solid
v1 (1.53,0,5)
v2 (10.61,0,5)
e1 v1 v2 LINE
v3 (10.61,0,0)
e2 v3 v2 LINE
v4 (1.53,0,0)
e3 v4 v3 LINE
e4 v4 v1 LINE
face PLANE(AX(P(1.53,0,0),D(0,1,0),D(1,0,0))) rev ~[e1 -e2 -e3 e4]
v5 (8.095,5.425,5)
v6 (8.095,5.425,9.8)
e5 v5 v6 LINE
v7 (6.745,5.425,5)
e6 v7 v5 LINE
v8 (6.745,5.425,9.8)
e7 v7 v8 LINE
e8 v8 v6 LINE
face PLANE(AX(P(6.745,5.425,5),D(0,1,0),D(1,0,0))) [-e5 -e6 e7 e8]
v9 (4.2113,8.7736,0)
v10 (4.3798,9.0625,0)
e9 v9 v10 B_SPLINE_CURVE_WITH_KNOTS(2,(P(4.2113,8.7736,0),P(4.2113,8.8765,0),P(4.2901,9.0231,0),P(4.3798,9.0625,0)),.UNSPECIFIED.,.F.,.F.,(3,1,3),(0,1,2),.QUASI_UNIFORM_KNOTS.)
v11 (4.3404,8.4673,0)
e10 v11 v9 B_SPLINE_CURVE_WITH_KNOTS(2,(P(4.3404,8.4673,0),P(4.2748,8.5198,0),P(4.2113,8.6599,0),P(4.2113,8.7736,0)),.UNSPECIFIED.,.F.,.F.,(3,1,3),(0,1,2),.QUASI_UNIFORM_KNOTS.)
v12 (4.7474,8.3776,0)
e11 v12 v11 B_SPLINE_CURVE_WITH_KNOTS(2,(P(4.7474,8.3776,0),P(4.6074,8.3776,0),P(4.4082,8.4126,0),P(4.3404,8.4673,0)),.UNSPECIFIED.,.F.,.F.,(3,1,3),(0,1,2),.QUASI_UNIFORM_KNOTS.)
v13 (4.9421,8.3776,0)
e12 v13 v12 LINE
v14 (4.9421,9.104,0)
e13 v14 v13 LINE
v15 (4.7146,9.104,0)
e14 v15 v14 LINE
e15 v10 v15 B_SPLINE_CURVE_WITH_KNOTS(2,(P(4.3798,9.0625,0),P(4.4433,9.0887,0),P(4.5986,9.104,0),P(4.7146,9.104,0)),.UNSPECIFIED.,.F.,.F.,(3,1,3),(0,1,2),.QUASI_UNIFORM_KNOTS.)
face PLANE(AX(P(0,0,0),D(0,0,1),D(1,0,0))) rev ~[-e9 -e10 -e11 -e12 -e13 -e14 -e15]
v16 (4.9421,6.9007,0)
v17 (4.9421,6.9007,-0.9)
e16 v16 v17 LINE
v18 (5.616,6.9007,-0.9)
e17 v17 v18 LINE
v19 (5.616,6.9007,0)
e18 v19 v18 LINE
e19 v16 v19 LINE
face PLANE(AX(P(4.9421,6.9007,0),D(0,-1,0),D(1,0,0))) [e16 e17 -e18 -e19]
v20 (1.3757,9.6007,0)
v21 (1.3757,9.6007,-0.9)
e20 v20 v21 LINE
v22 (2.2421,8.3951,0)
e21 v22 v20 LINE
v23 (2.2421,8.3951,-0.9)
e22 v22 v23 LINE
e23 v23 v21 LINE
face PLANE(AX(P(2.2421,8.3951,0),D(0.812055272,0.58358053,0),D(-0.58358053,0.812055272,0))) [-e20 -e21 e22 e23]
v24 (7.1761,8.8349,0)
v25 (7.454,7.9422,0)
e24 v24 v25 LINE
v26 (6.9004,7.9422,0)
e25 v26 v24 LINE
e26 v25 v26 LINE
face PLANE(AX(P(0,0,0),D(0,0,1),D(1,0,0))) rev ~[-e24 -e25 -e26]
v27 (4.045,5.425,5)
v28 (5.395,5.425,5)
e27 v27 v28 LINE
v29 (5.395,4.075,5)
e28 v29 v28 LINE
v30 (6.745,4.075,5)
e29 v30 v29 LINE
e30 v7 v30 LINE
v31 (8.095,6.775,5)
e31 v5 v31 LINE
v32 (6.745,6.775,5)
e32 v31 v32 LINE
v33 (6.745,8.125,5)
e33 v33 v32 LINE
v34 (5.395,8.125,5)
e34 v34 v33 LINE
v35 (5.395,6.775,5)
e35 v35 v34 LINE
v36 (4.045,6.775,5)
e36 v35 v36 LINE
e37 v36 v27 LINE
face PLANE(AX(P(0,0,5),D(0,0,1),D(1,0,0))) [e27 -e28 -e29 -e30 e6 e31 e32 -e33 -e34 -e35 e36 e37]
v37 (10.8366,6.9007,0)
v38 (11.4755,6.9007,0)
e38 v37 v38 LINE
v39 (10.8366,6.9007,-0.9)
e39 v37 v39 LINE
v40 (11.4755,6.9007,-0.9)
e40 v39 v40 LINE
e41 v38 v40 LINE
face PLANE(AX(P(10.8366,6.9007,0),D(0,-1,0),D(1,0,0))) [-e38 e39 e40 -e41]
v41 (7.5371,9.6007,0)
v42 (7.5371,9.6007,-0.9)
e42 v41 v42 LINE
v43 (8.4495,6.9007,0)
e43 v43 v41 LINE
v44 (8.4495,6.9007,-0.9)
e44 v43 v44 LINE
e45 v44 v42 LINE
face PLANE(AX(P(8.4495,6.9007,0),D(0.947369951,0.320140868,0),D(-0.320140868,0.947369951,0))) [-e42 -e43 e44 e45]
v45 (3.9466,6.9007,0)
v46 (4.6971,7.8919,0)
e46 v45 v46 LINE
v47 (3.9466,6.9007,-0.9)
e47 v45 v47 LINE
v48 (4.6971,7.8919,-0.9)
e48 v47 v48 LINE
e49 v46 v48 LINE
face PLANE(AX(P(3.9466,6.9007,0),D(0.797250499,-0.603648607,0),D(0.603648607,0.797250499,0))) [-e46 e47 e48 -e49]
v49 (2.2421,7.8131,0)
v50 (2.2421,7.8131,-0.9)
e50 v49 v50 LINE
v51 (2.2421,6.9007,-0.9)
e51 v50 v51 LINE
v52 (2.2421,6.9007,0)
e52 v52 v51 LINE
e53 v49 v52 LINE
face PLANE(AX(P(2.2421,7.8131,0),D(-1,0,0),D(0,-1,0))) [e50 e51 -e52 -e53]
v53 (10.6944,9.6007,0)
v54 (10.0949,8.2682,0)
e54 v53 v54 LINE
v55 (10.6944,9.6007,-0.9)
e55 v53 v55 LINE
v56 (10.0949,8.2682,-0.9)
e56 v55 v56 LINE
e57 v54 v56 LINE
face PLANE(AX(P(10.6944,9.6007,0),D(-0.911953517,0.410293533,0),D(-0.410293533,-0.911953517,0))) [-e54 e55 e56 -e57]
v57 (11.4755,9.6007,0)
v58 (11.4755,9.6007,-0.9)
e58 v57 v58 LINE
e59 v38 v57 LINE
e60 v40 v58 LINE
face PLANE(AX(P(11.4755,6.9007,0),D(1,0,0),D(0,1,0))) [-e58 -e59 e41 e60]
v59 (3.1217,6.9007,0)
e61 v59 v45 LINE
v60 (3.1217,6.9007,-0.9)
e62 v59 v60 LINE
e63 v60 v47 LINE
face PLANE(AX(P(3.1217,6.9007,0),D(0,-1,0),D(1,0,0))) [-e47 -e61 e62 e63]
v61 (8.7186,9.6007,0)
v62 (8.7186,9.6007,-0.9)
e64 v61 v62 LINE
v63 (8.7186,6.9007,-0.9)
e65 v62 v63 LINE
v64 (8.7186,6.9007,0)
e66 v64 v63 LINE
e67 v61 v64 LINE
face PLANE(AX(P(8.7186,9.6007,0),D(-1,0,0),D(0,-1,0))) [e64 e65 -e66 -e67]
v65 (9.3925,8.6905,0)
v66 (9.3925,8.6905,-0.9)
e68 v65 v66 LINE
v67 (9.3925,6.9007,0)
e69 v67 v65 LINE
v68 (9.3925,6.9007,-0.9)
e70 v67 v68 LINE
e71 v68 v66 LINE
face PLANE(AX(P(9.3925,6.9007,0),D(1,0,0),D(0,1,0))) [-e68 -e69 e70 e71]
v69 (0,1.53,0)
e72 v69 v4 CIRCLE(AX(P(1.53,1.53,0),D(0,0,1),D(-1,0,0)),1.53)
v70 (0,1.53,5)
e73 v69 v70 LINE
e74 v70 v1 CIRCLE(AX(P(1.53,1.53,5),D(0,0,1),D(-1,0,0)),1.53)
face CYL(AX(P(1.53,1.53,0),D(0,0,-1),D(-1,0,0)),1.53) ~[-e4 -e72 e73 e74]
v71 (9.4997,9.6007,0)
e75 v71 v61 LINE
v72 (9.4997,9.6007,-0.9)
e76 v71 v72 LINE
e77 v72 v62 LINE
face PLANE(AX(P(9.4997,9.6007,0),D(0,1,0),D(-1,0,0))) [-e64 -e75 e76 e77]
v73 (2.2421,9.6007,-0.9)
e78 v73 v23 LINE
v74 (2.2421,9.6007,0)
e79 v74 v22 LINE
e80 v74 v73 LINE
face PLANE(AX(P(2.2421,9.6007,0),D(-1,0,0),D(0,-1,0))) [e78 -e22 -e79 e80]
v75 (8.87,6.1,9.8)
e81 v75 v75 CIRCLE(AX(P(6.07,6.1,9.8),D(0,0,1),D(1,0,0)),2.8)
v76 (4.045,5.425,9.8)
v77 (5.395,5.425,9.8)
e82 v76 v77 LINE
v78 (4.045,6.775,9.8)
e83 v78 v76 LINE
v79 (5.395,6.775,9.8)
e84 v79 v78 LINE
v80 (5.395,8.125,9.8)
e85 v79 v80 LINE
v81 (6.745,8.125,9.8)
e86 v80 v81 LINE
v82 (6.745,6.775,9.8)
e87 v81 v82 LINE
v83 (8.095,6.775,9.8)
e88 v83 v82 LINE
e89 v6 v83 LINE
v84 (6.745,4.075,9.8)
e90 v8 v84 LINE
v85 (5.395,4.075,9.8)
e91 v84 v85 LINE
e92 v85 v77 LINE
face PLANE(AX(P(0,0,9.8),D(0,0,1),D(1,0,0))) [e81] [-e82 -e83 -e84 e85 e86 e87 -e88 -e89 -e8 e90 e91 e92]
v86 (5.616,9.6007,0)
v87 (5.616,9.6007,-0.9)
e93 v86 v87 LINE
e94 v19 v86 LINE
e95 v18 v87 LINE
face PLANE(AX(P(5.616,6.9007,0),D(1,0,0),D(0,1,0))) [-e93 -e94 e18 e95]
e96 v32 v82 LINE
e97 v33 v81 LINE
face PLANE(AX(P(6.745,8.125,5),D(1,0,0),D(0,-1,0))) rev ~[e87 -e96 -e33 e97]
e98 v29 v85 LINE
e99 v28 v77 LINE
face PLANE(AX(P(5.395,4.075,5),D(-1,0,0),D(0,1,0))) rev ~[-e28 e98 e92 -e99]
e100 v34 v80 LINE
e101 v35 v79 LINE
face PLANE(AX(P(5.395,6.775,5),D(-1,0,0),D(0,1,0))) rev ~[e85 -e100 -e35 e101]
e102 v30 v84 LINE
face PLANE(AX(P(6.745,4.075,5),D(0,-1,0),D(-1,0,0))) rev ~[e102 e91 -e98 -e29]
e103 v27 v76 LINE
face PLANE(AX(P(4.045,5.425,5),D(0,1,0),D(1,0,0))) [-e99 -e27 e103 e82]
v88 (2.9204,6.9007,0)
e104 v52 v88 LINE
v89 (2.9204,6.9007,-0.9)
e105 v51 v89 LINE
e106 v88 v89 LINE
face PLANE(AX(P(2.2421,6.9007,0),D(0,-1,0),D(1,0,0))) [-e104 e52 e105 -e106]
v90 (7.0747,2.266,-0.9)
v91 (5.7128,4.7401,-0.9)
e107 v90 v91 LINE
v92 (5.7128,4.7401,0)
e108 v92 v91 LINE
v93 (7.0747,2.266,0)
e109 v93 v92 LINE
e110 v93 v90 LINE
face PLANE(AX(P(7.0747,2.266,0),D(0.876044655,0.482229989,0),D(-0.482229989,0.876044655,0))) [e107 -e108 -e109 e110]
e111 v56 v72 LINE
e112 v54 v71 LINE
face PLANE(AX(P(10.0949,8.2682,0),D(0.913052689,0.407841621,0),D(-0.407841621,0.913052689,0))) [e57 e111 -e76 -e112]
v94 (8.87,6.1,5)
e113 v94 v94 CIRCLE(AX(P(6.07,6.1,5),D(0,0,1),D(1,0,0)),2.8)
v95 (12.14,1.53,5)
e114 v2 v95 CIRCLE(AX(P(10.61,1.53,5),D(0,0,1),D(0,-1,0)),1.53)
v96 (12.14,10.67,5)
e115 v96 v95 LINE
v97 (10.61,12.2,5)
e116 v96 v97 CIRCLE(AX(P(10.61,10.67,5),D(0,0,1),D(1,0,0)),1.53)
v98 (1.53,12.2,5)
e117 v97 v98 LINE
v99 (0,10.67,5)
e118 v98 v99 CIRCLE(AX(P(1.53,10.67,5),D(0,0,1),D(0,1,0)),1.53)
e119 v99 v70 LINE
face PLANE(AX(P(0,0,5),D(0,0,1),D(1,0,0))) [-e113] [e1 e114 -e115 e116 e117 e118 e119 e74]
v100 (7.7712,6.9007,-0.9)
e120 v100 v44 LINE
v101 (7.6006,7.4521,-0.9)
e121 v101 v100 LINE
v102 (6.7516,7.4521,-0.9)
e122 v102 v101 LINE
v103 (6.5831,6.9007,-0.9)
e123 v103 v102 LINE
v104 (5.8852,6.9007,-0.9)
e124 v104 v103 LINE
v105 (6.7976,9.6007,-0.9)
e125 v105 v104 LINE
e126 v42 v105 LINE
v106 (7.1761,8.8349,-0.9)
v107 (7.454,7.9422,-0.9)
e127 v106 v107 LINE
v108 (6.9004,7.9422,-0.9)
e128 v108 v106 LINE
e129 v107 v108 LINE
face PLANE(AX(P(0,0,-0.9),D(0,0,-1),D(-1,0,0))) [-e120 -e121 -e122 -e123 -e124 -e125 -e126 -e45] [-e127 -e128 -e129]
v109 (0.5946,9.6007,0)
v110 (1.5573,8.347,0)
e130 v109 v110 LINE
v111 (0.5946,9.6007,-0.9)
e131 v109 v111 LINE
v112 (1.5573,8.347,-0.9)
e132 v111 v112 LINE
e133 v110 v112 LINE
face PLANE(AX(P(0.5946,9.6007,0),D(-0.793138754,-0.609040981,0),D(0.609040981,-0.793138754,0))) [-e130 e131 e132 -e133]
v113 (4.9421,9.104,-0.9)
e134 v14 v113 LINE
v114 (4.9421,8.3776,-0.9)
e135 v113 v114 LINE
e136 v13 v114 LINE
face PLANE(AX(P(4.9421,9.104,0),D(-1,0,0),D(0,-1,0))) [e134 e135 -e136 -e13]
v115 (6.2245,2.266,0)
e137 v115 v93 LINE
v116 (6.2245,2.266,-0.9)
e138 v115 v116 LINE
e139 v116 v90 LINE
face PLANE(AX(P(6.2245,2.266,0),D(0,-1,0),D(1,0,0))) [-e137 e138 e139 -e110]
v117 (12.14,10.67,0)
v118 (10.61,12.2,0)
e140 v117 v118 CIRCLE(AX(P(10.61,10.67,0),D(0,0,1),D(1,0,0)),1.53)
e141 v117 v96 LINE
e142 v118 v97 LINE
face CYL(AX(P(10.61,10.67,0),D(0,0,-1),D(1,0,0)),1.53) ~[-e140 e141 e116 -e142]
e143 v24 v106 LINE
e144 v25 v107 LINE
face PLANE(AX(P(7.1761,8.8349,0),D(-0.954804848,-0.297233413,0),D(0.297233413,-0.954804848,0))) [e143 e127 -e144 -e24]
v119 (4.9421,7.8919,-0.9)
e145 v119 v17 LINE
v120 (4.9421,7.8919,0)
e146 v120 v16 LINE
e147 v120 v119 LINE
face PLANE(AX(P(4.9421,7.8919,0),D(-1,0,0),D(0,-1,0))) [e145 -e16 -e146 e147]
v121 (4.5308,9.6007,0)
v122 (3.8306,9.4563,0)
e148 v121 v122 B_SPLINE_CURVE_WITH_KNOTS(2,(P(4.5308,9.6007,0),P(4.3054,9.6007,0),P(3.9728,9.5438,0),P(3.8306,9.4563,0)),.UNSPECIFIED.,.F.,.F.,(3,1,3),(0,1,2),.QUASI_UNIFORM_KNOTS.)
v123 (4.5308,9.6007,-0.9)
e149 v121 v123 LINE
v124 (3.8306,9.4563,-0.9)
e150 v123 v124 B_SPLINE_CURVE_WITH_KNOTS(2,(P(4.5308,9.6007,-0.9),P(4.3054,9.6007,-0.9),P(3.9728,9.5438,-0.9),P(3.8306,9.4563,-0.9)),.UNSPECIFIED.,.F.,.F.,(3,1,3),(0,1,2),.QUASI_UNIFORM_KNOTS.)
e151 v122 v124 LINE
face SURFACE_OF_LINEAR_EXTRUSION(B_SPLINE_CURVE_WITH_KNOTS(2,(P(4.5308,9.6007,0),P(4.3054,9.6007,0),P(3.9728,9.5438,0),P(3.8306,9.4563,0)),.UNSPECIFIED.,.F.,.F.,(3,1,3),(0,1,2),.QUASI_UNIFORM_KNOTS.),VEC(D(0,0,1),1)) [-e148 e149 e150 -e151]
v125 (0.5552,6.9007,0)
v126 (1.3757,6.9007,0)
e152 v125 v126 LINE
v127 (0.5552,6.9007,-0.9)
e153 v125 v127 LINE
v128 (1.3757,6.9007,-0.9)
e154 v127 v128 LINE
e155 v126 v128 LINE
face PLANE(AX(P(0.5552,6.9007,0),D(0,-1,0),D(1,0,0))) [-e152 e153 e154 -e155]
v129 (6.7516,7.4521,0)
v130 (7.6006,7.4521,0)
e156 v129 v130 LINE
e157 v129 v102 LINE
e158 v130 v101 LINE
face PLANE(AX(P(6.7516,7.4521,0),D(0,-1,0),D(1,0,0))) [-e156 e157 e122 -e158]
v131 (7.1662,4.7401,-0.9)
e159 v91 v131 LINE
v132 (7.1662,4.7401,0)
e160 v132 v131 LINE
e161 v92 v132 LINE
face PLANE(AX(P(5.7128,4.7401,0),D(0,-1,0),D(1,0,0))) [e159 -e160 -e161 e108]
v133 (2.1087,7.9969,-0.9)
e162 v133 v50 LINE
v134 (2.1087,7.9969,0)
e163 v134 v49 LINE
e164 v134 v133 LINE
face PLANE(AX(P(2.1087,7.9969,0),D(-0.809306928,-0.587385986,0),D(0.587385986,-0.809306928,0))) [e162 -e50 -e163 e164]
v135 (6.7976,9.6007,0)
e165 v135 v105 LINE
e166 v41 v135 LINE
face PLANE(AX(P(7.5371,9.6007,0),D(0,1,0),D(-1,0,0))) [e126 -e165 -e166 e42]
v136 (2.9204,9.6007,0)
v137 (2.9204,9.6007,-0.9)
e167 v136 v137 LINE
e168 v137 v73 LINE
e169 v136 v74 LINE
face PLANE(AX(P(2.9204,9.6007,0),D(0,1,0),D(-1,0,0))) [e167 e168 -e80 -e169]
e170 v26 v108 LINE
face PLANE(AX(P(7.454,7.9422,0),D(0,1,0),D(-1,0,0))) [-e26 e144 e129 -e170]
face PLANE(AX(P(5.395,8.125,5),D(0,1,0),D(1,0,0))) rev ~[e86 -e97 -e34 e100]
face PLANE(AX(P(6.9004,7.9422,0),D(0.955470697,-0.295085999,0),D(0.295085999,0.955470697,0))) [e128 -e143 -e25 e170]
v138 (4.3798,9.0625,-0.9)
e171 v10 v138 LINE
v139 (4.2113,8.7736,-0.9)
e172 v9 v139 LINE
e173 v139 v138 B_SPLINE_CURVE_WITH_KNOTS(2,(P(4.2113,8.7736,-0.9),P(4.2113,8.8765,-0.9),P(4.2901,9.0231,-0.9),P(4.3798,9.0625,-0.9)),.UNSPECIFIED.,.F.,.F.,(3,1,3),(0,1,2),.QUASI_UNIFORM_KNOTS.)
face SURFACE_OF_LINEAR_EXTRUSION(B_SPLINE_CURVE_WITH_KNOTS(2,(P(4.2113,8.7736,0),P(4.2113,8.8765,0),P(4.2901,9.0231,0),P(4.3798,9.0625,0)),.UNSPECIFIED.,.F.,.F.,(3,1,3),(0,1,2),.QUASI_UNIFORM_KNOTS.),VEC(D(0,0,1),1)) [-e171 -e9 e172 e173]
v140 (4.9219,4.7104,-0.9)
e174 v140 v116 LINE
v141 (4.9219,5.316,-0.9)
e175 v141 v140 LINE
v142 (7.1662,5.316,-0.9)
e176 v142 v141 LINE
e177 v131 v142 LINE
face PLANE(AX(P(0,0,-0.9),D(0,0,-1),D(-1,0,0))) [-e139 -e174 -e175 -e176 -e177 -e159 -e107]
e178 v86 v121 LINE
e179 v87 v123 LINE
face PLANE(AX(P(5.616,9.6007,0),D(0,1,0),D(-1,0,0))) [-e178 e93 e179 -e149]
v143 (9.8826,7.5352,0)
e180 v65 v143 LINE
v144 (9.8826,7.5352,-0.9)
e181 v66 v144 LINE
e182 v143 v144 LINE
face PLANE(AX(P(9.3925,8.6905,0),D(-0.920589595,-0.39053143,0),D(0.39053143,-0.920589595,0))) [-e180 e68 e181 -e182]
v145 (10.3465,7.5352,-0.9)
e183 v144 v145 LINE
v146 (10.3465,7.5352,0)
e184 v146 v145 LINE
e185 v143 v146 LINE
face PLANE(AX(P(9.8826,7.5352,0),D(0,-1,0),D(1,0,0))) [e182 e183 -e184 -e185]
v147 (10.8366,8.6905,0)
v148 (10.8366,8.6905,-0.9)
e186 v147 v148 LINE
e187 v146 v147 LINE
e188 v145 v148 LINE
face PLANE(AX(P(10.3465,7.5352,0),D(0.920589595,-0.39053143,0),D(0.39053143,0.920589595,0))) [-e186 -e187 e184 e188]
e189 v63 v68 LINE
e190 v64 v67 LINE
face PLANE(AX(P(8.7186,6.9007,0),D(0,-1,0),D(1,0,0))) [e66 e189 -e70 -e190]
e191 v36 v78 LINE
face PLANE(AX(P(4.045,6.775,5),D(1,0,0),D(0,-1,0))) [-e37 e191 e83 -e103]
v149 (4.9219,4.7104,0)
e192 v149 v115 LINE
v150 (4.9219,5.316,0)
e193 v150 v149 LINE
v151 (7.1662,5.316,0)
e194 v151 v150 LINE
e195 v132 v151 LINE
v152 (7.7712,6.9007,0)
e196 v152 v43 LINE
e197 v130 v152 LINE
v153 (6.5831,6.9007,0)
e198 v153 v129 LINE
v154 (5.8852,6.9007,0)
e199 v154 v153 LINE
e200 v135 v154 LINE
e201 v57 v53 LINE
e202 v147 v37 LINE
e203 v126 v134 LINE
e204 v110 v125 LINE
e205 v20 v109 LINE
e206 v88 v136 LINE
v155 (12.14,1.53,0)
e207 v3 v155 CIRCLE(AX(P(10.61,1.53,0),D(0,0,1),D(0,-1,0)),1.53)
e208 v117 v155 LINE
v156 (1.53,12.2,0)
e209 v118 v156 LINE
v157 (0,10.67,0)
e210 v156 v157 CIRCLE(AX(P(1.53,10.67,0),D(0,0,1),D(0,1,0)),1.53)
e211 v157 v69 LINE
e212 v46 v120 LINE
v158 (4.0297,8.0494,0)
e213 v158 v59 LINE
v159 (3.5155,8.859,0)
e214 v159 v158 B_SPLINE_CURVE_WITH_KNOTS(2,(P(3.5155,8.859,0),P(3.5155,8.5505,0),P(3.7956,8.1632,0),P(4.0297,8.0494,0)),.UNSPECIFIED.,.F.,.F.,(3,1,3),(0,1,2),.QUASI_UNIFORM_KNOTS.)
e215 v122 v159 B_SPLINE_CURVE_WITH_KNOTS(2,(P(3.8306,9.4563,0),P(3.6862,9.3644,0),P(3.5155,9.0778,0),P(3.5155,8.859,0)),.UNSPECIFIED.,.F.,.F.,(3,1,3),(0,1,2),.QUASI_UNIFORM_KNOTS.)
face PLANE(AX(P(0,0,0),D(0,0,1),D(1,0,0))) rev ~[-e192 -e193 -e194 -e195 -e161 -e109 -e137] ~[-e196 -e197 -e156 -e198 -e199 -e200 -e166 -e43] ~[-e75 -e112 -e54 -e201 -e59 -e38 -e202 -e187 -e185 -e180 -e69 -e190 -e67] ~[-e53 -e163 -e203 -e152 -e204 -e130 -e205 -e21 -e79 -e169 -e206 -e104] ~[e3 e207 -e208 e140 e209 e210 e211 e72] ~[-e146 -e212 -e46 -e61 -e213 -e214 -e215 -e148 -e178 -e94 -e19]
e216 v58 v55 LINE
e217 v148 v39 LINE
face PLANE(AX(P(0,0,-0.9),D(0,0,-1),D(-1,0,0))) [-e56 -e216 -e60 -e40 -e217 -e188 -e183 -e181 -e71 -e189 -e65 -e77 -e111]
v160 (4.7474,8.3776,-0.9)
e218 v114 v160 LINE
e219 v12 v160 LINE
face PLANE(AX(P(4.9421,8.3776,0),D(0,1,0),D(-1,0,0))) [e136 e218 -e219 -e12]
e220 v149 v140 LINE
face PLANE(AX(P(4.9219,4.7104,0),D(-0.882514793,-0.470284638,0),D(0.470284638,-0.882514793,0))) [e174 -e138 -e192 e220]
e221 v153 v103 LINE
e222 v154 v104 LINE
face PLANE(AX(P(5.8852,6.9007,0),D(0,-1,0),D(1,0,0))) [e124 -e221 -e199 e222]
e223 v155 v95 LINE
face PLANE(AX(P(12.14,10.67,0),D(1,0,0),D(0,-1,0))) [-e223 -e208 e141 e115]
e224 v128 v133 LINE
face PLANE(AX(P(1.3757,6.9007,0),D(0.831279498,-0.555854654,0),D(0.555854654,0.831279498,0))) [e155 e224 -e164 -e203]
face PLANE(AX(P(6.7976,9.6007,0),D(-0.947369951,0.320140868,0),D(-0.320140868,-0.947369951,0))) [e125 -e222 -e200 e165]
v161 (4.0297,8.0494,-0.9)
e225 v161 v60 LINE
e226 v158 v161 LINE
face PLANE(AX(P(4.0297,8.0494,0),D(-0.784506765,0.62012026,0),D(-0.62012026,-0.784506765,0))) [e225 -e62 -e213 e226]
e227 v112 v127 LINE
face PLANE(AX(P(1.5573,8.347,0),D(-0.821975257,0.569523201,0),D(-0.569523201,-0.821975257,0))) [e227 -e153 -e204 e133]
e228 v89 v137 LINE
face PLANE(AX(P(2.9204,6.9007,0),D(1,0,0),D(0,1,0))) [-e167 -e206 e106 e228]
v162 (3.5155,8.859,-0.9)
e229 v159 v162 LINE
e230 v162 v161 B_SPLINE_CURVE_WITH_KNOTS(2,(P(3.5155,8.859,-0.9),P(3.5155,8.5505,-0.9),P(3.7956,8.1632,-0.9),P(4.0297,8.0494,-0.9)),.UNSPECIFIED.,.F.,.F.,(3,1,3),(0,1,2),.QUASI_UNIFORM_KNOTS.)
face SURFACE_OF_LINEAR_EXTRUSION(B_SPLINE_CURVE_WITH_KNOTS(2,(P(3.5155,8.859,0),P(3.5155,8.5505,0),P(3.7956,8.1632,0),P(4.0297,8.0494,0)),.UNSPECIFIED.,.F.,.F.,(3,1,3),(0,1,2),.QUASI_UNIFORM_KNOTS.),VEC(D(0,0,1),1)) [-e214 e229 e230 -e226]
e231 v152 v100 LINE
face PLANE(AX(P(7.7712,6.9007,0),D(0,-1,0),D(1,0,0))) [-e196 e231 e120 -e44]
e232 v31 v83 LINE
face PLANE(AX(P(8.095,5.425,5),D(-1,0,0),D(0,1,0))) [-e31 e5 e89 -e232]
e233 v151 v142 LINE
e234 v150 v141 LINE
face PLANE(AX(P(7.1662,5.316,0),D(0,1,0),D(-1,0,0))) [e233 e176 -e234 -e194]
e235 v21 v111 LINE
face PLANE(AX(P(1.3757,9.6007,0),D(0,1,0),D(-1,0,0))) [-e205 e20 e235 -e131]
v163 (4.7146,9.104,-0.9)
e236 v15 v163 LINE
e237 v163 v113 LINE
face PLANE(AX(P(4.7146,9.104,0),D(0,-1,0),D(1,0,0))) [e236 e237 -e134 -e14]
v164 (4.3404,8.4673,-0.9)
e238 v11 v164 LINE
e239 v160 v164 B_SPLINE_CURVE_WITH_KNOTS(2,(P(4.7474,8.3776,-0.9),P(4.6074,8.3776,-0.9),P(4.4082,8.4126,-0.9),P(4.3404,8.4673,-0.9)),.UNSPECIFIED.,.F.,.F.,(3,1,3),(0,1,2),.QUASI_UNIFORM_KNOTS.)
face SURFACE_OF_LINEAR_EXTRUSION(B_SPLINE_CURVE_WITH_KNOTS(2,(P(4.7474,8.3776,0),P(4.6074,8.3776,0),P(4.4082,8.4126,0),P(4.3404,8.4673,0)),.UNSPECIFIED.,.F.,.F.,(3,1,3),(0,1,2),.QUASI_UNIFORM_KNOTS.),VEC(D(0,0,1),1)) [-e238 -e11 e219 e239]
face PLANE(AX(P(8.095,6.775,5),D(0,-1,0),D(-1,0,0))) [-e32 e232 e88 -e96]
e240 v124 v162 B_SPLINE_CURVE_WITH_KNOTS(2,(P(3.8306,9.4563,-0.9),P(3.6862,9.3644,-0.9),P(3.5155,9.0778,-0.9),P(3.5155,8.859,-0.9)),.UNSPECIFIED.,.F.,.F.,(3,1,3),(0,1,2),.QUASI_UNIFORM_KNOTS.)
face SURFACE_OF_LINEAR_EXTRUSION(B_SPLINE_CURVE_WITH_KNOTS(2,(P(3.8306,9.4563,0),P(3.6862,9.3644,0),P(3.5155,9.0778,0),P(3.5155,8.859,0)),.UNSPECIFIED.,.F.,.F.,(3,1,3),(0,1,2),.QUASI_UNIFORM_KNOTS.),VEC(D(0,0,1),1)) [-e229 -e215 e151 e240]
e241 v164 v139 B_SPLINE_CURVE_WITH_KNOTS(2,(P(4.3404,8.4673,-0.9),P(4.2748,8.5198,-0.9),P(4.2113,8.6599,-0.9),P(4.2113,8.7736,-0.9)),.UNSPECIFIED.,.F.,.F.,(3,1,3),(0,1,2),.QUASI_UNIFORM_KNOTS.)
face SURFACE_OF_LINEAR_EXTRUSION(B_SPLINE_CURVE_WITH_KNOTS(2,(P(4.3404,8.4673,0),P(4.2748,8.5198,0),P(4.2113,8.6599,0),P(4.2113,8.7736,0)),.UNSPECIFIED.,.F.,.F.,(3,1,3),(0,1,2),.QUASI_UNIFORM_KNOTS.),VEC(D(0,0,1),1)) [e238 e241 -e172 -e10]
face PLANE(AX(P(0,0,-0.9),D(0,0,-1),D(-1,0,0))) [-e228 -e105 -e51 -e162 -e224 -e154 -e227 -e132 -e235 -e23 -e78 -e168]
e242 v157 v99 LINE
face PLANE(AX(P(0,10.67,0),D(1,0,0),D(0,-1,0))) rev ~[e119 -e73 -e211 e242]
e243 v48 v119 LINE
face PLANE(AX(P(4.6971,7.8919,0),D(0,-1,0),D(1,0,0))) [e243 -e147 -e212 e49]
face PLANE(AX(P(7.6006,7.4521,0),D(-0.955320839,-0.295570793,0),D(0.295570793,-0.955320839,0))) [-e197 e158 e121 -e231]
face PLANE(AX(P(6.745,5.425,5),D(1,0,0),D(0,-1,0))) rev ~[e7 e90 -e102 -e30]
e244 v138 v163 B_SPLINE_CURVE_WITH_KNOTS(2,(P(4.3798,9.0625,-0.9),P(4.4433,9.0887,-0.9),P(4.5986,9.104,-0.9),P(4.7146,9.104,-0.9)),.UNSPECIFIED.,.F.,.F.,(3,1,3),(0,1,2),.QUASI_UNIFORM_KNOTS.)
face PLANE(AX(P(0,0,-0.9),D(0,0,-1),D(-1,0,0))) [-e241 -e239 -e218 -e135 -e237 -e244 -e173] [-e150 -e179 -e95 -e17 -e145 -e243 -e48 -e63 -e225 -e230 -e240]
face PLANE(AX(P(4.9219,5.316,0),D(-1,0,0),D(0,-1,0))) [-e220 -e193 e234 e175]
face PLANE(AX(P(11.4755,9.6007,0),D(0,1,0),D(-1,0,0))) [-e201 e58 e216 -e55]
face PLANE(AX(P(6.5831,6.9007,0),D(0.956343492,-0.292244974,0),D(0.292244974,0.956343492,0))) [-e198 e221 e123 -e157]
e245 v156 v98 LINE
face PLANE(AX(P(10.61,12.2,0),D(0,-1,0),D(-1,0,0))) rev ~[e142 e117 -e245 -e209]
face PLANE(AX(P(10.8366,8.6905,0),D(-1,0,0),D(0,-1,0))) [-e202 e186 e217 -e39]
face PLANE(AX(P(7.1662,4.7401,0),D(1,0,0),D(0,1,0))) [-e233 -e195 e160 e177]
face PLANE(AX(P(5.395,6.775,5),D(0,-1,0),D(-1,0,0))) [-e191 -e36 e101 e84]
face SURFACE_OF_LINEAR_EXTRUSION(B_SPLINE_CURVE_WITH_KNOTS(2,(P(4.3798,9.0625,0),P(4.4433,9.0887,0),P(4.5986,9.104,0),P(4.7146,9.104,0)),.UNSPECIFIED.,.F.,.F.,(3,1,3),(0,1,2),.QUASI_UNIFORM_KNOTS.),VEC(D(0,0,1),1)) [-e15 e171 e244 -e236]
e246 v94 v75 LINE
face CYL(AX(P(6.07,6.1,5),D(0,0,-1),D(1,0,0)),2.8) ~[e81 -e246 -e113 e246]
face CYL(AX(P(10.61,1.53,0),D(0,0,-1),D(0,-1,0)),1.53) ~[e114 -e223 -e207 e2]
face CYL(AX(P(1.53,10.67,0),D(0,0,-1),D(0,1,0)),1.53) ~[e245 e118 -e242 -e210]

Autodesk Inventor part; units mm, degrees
ref_plane "YZ Plane" through (0, 0, 0) normal (1, 0, 0) x (0, 1, 0)
ref_plane "XZ Plane" through (0, 0, 0) normal (0, 1, 0) x (-1, 0, 0)
sketch "Sketch1" plane through (0, 0, 0) normal (0, 0, 1) x (1, 0, 0)
  line L0 (14.6962, 12.74) -> (14.6962, 0) construction
  line L1 (10.61, 12.2) -> (1.53, 12.2)
  arc A0 (1.53, 12.2) -> (0, 10.67) centre (1.53, 10.67) ccw
  line L2 (0, 10.67) -> (0, 1.53)
  arc A1 (0, 1.53) -> (1.53, 0) centre (1.53, 1.53) ccw
  line L3 (1.53, 0) -> (10.61, 0)
  arc A2 (10.61, 0) -> (12.14, 1.53) centre (10.61, 1.53) ccw
  arc A3 (12.14, 10.67) -> (10.61, 12.2) centre (10.61, 10.67) ccw
  line L4 (12.14, 10.67) -> (12.14, 1.53)
  point P0 (0, 0)
  point P1 (0, 0)
  dimension "d10" = 12.74
ref_plane "Work Plane1" through (0, 0, 5) normal (0, 0, 1) x (1, 0, 0)
sketch "Sketch2" plane through (0, 0, 5) normal (0, 0, 1) x (1, 0, 0)
  line L0 (10.88, 12.74) -> (1.8, 12.74) projected
  line L1 (10.88, 12.74) -> (1.8, 12.74) projected
  arc A0 (1.8, 12.74) -> (0, 10.94) centre (1.8, 10.94) ccw projected
  line L2 (0, 10.94) -> (0, 1.8) projected
  arc A1 (0, 1.8) -> (1.8, 0) centre (1.8, 1.8) ccw projected
  line L3 (1.8, 0) -> (10.88, 0) projected
  arc A2 (10.88, 0) -> (12.68, 1.8) centre (10.88, 1.8) ccw projected
  line L4 (12.68, 1.8) -> (12.68, 10.94) projected
  arc A3 (12.68, 10.94) -> (10.88, 12.74) centre (10.88, 10.94) ccw projected
  circle A4 centre (6.34, 6.37) radius 2.8
  line L5 (5.665, 8.395) -> (7.015, 8.395)
  line L6 (7.015, 4.345) -> (5.665, 4.345)
  line L7 (5.665, 4.345) -> (7.015, 8.395) construction
  line L8 (5.665, 8.395) -> (7.015, 4.345) construction
  line L9 (8.365, 5.695) -> (8.365, 7.045)
  line L10 (4.315, 7.045) -> (4.315, 5.695)
  line L11 (4.315, 5.695) -> (8.365, 7.045) construction
  line L12 (8.365, 5.695) -> (4.315, 7.045) construction
  line L13 (4.315, 5.695) -> (5.665, 5.695)
  line L14 (7.015, 5.695) -> (8.365, 5.695)
  line L15 (5.665, 4.345) -> (5.665, 5.695)
  line L16 (5.665, 7.045) -> (5.665, 8.395)
  line L17 (8.365, 7.045) -> (7.015, 7.045)
  line L18 (5.665, 7.045) -> (4.315, 7.045)
  line L19 (7.015, 8.395) -> (7.015, 7.045)
  line L20 (7.015, 5.695) -> (7.015, 4.345)
  point P0 (0, 0)
  dimension "d3" = 5.6
  dimension "d4" = 4.05
  dimension "d5" = 1.35
  dimension "d6" = 4.05
  dimension "d7" = 1.35
extrude "Extrusion3" add sketch "Sketch1" along normal blind 5
sketch "Sketch3" plane through (0, 0, 5) normal (0, 0, 1) x (1, 0, 0)
  line L0 (10.61, 12.47) -> (1.53, 12.47)
  line L1 (10.61, 12.47) -> (1.53, 12.47)
  arc A0 (1.53, 12.47) -> (-0.27, 10.67) centre (1.53, 10.67) ccw
  line L2 (-0.27, 10.67) -> (-0.27, 1.53)
  arc A1 (-0.27, 1.53) -> (1.53, -0.27) centre (1.53, 1.53) ccw
  line L3 (1.53, -0.27) -> (10.61, -0.27)
  arc A2 (10.61, -0.27) -> (12.41, 1.53) centre (10.61, 1.53) ccw
  line L4 (12.41, 1.53) -> (12.41, 10.67)
  arc A3 (12.41, 10.67) -> (10.61, 12.47) centre (10.61, 10.67) ccw
  circle A4 centre (6.07, 6.1) radius 2.8
  line L5 (5.395, 8.125) -> (6.745, 8.125)
  line L6 (6.745, 4.075) -> (5.395, 4.075)
  line L7 (5.395, 4.075) -> (6.745, 8.125) construction
  line L8 (5.395, 8.125) -> (6.745, 4.075) construction
  line L9 (8.095, 5.425) -> (8.095, 6.775)
  line L10 (4.045, 6.775) -> (4.045, 5.425)
  line L11 (4.045, 5.425) -> (8.095, 6.775) construction
  line L12 (8.095, 5.425) -> (4.045, 6.775) construction
  line L13 (4.045, 5.425) -> (5.395, 5.425)
  line L14 (6.745, 5.425) -> (8.095, 5.425)
  line L15 (5.395, 4.075) -> (5.395, 5.425)
  line L16 (5.395, 6.775) -> (5.395, 8.125)
  line L17 (8.095, 6.775) -> (6.745, 6.775)
  line L18 (5.395, 6.775) -> (4.045, 6.775)
  line L19 (6.745, 8.125) -> (6.745, 6.775)
  line L20 (6.745, 5.425) -> (6.745, 4.075)
  line L21 (10.61, 12.2) -> (1.53, 12.2) projected
  line L22 (0, 10.67) -> (0, 1.53) projected
  point P0 (0, 0)
  point P1 (-0.27, -0.27)
  point P2 (6.07, 12.2)
  point P3 (0, 6.1)
  point P4 (6.07, 6.1)
  dimension "d14" = 5.6
  dimension "d15" = 4.05
  dimension "d16" = 1.35
  dimension "d17" = 4.05
  dimension "d18" = 1.35
extrude "Extrusion4" add sketch "Sketch3" along normal blind 4.8 contours A4
sketch "Sketch4" plane through (0, 0, 0) normal (0, 0, -1) x (-1, 0, 0)
  line L0 (-13.9436, 0) -> (-13.9436, 2.266)
  line L1 (-15.5559, 0) -> (-15.5559, 6.84)
  line L2 (-1.53, 0) -> (-10.61, 0) projected
  line L3 (-11.7556, 9.6007) -> (-0.3844, 9.6007) construction
  line L4 (-0.3844, 9.6007) -> (-0.3844, 6.84) construction
  line L5 (-0.3844, 6.84) -> (-11.7556, 6.84) construction
  line L6 (-11.7556, 6.84) -> (-11.7556, 9.6007) construction
  line L7 (-7.4059, 5.316) -> (-4.7341, 5.316) construction
  line L8 (-4.7341, 5.316) -> (-4.7341, 2.266) construction
  line L9 (-4.7341, 2.266) -> (-7.4059, 2.266) construction
  line L10 (-7.4059, 2.266) -> (-7.4059, 5.316) construction
  line L11 (-8.7186, 6.9007) -> (-9.3925, 6.9007)
  line L12 (-9.3925, 6.9007) -> (-9.3925, 8.6905)
  line L13 (-9.3925, 8.6905) -> (-9.8826, 7.5352)
  line L14 (-9.8826, 7.5352) -> (-10.3465, 7.5352)
  line L15 (-10.3465, 7.5352) -> (-10.8366, 8.6905)
  line L16 (-10.8366, 8.6905) -> (-10.8366, 6.9007)
  line L17 (-10.8366, 6.9007) -> (-11.4755, 6.9007)
  line L18 (-11.4755, 6.9007) -> (-11.4755, 9.6007)
  line L19 (-11.4755, 9.6007) -> (-10.6944, 9.6007)
  line L20 (-10.6944, 9.6007) -> (-10.0949, 8.2682)
  line L21 (-10.0949, 8.2682) -> (-9.4997, 9.6007)
  line L22 (-9.4997, 9.6007) -> (-8.7186, 9.6007)
  line L23 (-8.7186, 9.6007) -> (-8.7186, 6.9007)
  line L24 (-8.4495, 6.9007) -> (-7.5371, 9.6007)
  line L25 (-7.5371, 9.6007) -> (-6.7976, 9.6007)
  line L26 (-6.7976, 9.6007) -> (-5.8852, 6.9007)
  line L27 (-5.8852, 6.9007) -> (-6.5831, 6.9007)
  line L28 (-6.5831, 6.9007) -> (-6.7516, 7.4521)
  line L29 (-6.7516, 7.4521) -> (-7.6006, 7.4521)
  line L30 (-7.6006, 7.4521) -> (-7.7712, 6.9007)
  line L31 (-7.7712, 6.9007) -> (-8.4495, 6.9007)
  line L32 (-6.9004, 7.9422) -> (-7.1761, 8.8349)
  line L33 (-7.1761, 8.8349) -> (-7.454, 7.9422)
  line L34 (-7.454, 7.9422) -> (-6.9004, 7.9422)
  line L35 (-3.1217, 6.9007) -> (-3.9466, 6.9007)
  line L36 (-3.9466, 6.9007) -> (-4.6971, 7.8919)
  line L37 (-4.6971, 7.8919) -> (-4.9421, 7.8919)
  line L38 (-4.9421, 7.8919) -> (-4.9421, 6.9007)
  line L39 (-4.9421, 6.9007) -> (-5.616, 6.9007)
  line L40 (-5.616, 6.9007) -> (-5.616, 9.6007)
  line L41 (-5.616, 9.6007) -> (-4.5308, 9.6007)
  spline S0 degree 2 poles (-4.5308, 9.6007) (-4.3054, 9.6007) (-3.9728, 9.5438) (-3.8306, 9.4563) knots 0 0 0 1 2 2 2
  spline S1 degree 2 poles (-3.8306, 9.4563) (-3.6862, 9.3644) (-3.5155, 9.0778) (-3.5155, 8.859) knots 0 0 0 1 2 2 2
  spline S2 degree 2 poles (-3.5155, 8.859) (-3.5155, 8.5505) (-3.7956, 8.1632) (-4.0297, 8.0494) knots 0 0 0 1 2 2 2
  line L42 (-4.0297, 8.0494) -> (-3.1217, 6.9007)
  spline S3 degree 2 poles (-4.2113, 8.7736) (-4.2113, 8.8765) (-4.2901, 9.0231) (-4.3798, 9.0625) knots 0 0 0 1 2 2 2
  spline S4 degree 2 poles (-4.3798, 9.0625) (-4.4433, 9.0887) (-4.5986, 9.104) (-4.7146, 9.104) knots 0 0 0 1 2 2 2
  line L43 (-4.7146, 9.104) -> (-4.9421, 9.104)
  line L44 (-4.9421, 9.104) -> (-4.9421, 8.3776)
  line L45 (-4.9421, 8.3776) -> (-4.7474, 8.3776)
  spline S5 degree 2 poles (-4.7474, 8.3776) (-4.6074, 8.3776) (-4.4082, 8.4126) (-4.3404, 8.4673) knots 0 0 0 1 2 2 2
  spline S6 degree 2 poles (-4.3404, 8.4673) (-4.2748, 8.5198) (-4.2113, 8.6599) (-4.2113, 8.7736) knots 0 0 0 1 2 2 2
  line L46 (-0.5552, 6.9007) -> (-1.3757, 6.9007)
  line L47 (-1.3757, 6.9007) -> (-2.1087, 7.9969)
  line L48 (-2.1087, 7.9969) -> (-2.2421, 7.8131)
  line L49 (-2.2421, 7.8131) -> (-2.2421, 6.9007)
  line L50 (-2.2421, 6.9007) -> (-2.9204, 6.9007)
  line L51 (-2.9204, 6.9007) -> (-2.9204, 9.6007)
  line L52 (-2.9204, 9.6007) -> (-2.2421, 9.6007)
  line L53 (-2.2421, 9.6007) -> (-2.2421, 8.3951)
  line L54 (-2.2421, 8.3951) -> (-1.3757, 9.6007)
  line L55 (-1.3757, 9.6007) -> (-0.5946, 9.6007)
  line L56 (-0.5946, 9.6007) -> (-1.5573, 8.347)
  line L57 (-1.5573, 8.347) -> (-0.5552, 6.9007)
  line L58 (-4.9219, 4.7104) -> (-6.2245, 2.266)
  line L59 (-6.2245, 2.266) -> (-7.0747, 2.266)
  line L60 (-7.0747, 2.266) -> (-5.7128, 4.7401)
  line L61 (-5.7128, 4.7401) -> (-7.1662, 4.7401)
  line L62 (-7.1662, 4.7401) -> (-7.1662, 5.316)
  line L63 (-7.1662, 5.316) -> (-4.9219, 5.316)
  line L64 (-4.9219, 5.316) -> (-4.9219, 4.7104)
  point P0 (0, 0)
  point P1 (-6.07, 0)
  point P2 (-6.07, 2.266)
  point P3 (-6.07, 6.84)
  point P4 (-6.07, 2.266)
  dimension "d21" = 2.266
  dimension "d22" = 6.84
extrude "Extrusion5" add sketch "Sketch4" along normal blind 0.9
properties part number "IPC MARK 7 key"
